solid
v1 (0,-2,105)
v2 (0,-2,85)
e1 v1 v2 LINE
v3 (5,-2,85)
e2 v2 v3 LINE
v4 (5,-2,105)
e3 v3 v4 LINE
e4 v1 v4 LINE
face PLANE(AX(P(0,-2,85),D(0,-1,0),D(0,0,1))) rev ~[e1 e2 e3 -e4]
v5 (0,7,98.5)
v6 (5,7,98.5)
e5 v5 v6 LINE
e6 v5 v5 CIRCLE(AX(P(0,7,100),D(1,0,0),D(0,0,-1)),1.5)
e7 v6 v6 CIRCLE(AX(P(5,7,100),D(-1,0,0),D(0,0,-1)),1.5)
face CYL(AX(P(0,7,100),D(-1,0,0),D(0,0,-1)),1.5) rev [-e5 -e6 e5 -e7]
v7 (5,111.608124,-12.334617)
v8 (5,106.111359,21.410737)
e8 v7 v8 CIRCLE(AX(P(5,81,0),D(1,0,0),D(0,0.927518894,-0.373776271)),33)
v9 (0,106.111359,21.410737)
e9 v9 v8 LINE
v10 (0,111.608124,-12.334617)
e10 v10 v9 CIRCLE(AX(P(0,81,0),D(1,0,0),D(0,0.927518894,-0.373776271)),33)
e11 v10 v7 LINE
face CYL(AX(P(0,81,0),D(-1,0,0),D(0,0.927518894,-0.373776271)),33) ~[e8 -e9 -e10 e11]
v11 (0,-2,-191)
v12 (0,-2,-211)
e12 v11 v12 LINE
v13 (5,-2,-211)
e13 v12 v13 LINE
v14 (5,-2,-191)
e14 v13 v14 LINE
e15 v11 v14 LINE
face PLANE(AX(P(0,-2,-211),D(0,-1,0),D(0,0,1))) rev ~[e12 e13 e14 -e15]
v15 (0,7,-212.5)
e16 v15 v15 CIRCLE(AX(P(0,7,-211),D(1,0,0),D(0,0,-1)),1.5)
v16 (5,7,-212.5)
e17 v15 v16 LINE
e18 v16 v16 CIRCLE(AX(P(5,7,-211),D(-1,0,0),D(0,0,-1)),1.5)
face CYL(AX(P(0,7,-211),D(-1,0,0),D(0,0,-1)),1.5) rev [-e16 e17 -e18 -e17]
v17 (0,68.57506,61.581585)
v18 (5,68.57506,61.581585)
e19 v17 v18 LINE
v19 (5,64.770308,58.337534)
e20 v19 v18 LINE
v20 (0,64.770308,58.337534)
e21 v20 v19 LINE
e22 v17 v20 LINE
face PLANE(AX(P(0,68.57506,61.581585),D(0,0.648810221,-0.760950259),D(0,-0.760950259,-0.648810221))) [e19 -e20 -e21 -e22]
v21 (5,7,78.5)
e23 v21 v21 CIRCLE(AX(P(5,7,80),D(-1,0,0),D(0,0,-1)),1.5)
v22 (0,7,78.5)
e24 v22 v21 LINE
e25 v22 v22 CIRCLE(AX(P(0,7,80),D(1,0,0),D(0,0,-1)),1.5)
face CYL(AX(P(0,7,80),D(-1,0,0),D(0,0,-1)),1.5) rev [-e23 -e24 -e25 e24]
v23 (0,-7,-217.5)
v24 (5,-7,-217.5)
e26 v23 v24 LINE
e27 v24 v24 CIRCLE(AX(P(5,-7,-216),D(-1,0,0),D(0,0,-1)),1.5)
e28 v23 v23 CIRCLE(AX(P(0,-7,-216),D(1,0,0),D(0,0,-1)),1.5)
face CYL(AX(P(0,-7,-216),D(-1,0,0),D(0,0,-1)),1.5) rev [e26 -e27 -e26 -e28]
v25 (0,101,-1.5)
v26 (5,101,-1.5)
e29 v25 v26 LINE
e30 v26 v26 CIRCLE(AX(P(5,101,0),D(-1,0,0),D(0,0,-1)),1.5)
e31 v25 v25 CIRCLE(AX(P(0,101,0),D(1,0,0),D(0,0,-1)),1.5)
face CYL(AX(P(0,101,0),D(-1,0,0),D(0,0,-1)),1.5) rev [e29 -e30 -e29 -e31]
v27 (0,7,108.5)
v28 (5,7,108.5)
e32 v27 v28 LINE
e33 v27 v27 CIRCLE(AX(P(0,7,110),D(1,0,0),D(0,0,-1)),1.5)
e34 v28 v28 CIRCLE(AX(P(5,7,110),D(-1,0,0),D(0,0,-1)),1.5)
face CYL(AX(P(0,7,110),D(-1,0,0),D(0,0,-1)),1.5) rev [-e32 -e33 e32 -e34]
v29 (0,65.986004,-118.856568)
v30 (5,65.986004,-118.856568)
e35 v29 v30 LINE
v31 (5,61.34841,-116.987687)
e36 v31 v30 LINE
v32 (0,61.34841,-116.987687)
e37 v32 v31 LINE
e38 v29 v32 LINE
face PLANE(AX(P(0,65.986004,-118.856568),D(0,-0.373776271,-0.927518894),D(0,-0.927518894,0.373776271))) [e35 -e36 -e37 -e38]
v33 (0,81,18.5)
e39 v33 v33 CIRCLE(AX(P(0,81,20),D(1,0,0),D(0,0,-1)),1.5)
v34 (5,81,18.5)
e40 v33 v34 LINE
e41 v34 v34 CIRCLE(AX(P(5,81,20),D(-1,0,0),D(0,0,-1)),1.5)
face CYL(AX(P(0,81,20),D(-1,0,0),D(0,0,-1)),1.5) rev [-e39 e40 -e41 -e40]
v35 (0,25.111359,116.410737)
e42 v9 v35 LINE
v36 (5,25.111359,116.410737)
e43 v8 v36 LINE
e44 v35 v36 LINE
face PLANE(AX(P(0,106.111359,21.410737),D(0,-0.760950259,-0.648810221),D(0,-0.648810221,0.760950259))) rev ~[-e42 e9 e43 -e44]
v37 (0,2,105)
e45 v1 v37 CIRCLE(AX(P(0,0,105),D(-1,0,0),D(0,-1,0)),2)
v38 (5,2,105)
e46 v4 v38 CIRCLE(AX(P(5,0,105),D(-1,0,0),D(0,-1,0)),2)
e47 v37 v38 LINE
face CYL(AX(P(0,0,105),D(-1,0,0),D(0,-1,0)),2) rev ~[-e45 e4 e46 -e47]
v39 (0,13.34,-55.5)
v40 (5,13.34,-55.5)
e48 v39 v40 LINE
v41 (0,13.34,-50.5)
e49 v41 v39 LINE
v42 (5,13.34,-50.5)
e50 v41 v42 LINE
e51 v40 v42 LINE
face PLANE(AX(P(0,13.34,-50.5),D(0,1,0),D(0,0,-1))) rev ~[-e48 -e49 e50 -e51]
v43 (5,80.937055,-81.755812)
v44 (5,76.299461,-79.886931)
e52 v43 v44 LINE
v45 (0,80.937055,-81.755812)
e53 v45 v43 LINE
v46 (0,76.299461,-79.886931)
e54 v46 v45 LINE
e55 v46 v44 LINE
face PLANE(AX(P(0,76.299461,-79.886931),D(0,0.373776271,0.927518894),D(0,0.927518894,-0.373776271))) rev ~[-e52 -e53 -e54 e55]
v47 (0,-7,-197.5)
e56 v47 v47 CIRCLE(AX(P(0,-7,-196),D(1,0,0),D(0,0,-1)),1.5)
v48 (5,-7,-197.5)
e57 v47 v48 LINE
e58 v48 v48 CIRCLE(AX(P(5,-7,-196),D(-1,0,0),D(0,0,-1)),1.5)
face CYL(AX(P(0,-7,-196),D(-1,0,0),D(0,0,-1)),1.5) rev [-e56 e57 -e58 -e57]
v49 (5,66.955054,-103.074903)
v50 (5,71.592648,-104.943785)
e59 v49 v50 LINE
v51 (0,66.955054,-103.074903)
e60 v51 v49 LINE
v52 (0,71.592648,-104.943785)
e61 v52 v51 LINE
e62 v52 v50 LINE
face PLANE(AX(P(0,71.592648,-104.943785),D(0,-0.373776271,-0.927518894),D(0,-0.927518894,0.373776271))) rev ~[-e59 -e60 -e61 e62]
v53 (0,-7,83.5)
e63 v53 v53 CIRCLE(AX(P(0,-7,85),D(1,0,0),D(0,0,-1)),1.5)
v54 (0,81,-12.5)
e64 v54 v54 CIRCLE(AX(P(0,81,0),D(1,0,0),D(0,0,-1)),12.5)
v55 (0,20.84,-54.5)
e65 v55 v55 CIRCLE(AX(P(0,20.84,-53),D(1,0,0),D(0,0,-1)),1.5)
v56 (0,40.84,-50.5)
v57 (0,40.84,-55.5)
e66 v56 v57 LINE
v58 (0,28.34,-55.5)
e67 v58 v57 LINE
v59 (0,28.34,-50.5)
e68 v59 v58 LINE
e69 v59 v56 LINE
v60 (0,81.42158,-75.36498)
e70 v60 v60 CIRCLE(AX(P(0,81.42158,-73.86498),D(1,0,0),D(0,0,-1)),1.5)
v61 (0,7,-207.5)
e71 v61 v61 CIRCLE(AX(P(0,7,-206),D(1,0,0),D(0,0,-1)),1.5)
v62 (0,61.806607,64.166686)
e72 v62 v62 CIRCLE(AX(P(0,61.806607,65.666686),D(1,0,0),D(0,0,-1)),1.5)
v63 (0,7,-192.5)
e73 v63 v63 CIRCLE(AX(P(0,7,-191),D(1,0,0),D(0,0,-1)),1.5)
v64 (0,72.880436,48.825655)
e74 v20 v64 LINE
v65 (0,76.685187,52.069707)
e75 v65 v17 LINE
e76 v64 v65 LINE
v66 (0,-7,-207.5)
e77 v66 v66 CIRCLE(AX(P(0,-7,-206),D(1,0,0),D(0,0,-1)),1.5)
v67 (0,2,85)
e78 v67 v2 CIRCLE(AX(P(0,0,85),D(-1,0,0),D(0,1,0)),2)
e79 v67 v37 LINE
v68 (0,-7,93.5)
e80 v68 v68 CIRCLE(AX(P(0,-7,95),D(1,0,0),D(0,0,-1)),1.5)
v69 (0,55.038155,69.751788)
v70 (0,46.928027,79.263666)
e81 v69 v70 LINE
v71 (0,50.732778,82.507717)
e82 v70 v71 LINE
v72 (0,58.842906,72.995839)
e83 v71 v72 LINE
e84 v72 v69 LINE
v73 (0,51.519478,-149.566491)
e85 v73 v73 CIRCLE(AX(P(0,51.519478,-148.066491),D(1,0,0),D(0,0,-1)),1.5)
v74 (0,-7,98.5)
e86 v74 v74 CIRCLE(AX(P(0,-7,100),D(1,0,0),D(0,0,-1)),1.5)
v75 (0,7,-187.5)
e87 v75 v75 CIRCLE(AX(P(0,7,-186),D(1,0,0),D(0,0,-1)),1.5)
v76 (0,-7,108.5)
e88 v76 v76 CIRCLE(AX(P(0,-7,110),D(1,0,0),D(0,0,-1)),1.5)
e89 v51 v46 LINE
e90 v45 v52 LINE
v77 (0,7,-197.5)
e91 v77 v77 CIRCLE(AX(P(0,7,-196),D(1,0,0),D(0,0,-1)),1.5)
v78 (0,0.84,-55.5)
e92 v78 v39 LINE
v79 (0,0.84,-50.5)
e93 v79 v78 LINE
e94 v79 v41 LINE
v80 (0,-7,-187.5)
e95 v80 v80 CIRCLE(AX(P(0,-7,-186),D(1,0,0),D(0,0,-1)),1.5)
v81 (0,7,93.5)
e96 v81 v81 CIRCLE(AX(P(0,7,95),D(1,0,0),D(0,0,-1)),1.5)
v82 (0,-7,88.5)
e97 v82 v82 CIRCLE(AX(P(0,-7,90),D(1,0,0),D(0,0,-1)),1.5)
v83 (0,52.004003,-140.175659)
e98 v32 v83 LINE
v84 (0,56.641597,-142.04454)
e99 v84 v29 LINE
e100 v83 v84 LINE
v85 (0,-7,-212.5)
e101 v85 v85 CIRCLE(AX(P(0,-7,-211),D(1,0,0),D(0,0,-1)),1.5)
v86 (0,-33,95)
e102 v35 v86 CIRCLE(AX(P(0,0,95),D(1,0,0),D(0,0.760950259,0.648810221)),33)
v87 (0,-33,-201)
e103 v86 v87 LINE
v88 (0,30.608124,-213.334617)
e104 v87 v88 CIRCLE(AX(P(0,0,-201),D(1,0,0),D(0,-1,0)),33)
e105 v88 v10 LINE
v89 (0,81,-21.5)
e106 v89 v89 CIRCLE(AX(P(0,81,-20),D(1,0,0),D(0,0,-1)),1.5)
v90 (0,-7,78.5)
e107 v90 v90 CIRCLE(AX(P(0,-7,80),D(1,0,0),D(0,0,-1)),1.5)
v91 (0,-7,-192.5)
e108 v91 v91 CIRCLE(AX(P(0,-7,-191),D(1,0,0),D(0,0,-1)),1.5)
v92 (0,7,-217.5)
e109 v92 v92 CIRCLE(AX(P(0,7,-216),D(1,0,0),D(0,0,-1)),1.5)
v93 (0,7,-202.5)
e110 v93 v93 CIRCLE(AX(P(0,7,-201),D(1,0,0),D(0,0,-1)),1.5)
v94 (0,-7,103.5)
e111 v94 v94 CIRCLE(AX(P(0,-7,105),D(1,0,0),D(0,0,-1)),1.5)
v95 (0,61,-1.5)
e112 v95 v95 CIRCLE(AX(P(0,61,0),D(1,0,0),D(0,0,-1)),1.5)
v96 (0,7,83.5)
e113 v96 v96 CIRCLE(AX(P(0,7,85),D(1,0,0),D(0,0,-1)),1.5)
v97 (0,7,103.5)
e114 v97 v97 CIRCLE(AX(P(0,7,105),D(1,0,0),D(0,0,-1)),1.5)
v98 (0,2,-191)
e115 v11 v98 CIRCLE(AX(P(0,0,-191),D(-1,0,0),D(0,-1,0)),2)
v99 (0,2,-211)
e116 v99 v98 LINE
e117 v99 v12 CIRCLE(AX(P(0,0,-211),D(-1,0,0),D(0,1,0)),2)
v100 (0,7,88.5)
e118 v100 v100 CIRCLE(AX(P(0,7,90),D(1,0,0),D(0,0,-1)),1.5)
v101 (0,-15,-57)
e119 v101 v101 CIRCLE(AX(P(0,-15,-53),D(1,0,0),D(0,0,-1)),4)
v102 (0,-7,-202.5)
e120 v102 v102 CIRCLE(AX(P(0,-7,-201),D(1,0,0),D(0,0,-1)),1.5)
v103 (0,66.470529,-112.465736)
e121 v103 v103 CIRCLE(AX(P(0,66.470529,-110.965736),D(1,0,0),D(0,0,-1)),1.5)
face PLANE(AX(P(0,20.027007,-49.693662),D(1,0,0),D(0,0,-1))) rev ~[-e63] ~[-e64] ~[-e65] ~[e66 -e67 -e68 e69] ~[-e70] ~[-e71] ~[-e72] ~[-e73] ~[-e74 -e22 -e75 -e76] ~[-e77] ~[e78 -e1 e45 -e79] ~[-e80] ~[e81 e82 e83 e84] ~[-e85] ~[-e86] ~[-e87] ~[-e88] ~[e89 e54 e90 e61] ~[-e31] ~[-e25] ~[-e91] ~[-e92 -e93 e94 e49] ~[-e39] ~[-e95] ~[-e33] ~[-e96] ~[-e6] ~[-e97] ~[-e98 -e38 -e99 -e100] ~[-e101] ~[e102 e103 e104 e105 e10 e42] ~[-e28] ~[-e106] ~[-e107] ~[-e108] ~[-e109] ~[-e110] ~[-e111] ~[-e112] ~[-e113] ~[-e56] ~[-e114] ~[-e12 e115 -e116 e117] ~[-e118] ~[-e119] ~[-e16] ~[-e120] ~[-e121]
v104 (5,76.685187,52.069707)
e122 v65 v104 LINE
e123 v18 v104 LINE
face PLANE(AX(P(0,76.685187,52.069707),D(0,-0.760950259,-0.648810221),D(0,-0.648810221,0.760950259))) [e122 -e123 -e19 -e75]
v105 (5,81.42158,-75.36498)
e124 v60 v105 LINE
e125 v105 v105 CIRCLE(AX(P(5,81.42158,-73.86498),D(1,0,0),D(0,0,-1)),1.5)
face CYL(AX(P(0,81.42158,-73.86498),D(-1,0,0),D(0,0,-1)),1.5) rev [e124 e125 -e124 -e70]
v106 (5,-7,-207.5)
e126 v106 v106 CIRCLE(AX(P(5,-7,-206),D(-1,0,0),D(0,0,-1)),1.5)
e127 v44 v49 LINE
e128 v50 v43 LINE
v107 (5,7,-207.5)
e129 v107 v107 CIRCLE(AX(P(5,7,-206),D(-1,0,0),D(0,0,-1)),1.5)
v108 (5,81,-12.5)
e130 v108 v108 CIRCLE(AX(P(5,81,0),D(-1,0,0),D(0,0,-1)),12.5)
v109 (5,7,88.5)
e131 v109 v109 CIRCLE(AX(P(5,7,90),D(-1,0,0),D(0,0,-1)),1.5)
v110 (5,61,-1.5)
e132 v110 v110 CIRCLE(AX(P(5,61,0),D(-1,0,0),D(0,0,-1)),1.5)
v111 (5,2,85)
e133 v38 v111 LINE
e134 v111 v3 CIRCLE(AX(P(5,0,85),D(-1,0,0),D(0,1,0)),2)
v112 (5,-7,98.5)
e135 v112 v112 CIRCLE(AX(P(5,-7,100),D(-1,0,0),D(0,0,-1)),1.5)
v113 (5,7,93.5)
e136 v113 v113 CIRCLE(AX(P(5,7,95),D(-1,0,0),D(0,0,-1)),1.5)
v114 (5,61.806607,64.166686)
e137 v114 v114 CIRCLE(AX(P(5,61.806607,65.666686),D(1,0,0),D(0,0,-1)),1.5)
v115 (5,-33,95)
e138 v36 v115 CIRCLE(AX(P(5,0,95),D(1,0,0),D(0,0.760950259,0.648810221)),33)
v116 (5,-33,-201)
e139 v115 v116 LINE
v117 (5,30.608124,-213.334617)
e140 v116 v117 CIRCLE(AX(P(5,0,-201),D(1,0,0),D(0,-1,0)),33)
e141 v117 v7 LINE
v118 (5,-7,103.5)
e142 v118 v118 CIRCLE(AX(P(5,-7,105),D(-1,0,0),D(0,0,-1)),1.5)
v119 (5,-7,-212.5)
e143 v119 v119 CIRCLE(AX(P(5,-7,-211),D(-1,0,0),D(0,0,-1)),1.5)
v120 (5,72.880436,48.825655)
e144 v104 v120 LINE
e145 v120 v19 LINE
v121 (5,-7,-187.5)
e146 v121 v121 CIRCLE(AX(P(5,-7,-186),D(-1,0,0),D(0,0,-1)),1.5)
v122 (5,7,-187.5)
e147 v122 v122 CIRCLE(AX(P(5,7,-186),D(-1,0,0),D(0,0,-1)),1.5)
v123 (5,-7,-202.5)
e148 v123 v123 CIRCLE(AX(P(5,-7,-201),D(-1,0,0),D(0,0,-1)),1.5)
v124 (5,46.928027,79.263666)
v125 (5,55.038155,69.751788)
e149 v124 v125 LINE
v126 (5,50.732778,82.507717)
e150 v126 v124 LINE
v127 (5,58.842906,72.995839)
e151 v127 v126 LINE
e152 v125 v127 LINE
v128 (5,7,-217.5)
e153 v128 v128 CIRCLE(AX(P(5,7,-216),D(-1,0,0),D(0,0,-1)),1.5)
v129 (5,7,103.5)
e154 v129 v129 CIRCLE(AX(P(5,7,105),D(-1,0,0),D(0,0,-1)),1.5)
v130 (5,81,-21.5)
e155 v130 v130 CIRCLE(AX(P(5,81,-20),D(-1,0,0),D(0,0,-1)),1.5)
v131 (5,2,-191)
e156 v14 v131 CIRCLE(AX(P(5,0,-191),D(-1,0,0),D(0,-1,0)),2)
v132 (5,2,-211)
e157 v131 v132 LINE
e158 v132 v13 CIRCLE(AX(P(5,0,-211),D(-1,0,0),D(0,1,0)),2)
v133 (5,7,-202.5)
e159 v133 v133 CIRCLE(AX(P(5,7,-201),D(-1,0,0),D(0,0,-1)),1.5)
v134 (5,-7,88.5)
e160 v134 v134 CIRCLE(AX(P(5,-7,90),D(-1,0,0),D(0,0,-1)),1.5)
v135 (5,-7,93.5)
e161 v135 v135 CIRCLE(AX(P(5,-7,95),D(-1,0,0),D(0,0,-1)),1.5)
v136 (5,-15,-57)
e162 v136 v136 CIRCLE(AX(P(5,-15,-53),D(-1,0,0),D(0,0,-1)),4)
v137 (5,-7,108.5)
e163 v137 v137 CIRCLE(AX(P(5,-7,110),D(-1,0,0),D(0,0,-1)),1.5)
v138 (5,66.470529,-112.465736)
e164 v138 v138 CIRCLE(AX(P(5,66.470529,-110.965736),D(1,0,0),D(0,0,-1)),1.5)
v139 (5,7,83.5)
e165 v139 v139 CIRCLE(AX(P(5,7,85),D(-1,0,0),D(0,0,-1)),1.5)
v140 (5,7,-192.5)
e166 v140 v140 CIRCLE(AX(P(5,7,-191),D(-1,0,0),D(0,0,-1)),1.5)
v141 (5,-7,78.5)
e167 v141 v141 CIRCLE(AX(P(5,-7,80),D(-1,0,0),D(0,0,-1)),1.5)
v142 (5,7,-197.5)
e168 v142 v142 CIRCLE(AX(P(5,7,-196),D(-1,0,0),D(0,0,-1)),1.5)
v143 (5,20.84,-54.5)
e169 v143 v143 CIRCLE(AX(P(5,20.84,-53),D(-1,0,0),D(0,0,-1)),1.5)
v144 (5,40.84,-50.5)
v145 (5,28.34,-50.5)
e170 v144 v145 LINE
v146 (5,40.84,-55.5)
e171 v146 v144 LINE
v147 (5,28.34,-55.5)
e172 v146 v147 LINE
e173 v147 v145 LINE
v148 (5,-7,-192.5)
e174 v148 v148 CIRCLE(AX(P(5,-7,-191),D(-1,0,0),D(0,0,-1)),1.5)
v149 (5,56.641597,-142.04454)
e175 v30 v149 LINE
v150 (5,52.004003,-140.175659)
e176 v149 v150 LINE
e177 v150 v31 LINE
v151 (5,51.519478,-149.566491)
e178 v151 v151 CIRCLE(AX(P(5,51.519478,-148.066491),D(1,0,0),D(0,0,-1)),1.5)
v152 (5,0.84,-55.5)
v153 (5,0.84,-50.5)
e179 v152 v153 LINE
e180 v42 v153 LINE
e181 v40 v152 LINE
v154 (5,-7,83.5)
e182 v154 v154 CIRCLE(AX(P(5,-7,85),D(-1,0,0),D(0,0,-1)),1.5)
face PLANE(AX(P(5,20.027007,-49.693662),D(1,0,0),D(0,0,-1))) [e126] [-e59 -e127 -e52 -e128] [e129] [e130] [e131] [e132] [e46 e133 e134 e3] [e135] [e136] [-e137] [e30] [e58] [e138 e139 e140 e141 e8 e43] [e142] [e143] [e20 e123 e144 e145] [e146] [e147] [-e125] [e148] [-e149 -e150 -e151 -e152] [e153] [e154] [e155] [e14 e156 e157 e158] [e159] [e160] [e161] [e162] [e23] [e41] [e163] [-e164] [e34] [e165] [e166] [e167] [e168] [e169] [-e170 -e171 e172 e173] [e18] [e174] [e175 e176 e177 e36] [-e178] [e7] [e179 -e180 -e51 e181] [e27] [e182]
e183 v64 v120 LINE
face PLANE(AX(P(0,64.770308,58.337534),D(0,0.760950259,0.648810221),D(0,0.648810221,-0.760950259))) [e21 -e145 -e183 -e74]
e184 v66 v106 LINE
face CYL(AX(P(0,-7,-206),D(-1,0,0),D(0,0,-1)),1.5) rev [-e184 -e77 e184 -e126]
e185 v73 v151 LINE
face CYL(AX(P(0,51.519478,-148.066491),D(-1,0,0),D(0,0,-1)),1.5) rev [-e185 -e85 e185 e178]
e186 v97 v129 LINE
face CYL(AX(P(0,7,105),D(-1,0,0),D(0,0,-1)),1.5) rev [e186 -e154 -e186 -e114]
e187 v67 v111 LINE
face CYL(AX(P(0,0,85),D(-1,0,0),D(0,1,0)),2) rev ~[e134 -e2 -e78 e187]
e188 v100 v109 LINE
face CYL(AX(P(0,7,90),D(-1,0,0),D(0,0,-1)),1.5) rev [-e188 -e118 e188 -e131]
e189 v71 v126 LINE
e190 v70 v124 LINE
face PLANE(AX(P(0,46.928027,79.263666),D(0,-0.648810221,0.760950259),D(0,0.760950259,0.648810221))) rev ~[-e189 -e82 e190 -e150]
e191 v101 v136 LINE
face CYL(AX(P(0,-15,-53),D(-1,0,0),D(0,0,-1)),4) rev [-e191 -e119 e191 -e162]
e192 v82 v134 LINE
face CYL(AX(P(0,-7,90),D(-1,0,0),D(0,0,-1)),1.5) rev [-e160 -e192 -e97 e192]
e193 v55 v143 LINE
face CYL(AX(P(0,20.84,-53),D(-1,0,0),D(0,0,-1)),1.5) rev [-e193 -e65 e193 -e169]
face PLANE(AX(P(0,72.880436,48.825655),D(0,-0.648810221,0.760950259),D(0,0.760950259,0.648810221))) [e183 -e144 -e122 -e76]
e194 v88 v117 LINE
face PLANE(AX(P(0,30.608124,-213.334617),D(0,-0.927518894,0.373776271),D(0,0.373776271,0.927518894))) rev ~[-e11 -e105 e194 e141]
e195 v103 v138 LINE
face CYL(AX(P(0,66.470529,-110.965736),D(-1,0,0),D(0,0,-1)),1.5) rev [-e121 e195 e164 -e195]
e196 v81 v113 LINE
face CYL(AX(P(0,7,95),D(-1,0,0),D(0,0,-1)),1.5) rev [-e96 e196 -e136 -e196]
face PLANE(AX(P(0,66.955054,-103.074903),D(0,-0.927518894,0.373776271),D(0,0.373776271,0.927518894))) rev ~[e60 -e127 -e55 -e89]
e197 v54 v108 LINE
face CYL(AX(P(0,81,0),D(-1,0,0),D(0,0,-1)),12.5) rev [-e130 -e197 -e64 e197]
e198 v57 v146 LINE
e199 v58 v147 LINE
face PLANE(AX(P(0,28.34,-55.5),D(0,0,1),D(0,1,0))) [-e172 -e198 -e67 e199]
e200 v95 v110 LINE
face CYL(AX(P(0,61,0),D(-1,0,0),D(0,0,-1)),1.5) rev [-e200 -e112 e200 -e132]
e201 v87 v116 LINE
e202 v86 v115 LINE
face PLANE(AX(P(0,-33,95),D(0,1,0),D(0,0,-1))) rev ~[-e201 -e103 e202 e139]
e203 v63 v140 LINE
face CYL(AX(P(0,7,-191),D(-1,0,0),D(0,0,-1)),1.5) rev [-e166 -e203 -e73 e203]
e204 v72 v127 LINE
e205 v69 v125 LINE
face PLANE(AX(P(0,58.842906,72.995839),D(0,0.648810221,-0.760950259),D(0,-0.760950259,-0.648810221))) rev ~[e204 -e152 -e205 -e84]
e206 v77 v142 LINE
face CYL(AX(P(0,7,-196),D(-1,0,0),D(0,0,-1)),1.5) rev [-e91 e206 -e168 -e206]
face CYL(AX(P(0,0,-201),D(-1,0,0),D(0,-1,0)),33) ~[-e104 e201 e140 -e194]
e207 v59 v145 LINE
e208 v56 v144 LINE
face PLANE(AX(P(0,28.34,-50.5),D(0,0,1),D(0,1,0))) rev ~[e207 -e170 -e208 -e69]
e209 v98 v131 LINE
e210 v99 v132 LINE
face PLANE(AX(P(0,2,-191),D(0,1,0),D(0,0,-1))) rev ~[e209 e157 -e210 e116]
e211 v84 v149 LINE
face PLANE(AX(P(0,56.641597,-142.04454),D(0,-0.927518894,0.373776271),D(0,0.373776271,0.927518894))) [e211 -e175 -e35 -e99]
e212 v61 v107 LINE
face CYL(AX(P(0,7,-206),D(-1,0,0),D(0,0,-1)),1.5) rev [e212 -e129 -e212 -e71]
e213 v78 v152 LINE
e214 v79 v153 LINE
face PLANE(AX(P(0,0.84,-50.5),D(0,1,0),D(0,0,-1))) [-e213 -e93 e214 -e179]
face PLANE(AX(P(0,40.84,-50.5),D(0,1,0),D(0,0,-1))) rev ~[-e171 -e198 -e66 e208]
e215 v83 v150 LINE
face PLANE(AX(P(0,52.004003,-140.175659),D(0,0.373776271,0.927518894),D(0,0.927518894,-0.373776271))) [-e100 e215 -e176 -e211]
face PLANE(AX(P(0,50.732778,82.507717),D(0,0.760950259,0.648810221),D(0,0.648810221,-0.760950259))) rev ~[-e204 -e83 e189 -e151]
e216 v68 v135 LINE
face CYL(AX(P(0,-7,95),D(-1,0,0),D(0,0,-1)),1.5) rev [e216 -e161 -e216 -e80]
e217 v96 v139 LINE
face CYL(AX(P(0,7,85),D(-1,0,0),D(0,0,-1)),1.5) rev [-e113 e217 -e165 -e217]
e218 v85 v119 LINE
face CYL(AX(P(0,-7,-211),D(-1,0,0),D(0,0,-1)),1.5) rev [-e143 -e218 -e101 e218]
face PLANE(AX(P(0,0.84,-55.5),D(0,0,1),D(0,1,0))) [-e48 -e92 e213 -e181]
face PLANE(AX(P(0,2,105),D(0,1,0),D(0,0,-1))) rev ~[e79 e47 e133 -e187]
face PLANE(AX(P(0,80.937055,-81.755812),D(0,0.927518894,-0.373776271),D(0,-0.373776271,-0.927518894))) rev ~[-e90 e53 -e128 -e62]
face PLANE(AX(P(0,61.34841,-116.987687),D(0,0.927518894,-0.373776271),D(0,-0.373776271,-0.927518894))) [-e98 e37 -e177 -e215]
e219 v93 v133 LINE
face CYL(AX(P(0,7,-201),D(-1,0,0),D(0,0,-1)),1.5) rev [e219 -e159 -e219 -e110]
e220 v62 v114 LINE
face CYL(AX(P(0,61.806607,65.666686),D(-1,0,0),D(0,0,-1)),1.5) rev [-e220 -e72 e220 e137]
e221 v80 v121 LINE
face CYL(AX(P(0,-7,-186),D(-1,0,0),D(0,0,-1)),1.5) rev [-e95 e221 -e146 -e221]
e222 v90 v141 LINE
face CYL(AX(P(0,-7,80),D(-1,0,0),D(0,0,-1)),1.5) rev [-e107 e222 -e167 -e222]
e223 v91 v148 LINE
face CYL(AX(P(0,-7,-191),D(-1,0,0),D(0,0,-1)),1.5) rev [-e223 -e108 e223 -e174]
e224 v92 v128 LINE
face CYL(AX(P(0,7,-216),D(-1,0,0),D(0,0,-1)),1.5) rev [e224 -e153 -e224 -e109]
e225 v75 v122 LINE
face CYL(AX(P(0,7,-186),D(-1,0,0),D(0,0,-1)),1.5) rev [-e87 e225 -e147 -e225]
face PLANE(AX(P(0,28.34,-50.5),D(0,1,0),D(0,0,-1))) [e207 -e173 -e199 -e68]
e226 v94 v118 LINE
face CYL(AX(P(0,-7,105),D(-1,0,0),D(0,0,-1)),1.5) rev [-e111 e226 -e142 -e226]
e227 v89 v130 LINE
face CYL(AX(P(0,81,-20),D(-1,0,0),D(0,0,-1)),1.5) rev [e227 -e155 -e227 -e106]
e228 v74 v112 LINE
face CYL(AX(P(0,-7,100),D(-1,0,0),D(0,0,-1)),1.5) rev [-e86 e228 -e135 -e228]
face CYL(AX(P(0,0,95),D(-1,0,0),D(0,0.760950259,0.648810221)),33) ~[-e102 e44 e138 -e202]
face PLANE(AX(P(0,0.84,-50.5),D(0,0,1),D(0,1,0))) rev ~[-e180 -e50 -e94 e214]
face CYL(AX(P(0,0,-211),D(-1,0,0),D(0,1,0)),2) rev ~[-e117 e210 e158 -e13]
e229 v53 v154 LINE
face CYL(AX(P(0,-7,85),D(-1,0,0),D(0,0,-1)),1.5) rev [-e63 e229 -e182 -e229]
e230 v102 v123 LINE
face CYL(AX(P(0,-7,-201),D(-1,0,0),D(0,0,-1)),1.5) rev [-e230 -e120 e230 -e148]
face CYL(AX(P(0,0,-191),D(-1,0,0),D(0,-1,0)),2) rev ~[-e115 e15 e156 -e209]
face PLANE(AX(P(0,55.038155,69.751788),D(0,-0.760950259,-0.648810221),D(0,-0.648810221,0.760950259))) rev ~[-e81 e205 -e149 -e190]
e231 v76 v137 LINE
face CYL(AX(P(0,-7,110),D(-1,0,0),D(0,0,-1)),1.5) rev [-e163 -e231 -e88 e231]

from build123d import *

# Parameters (mm, degrees)
SCHIZZO3_R                   = 1.5
ESTRUSIONE_ESTRUSIONE1_DEPTH = 5
SCHIZZO2_R                   = 2
SCHIZZO2_R_2                 = 12.5
SCHIZZO2_R_3                 = 1.5
TAGLIO_ESTRUSIONE1_DEPTH     = 6
TAGLIO_ESTRUSIONE2_DEPTH     = 6
SCHIZZO6_R                   = 1.5
SCHIZZO6_R_2                 = 4
SCHIZZO6_W                   = 5
SCHIZZO6_H                   = 12.5
TAGLIO_ESTRUSIONE4_DEPTH     = 6


with BuildPart() as part:
    # Schizzo3 → Estrusione-Estrusione1 (new body)
    with BuildSketch(Plane(origin=(0, 0, 0), x_dir=(0, 0, -1), z_dir=(1, 0, 0))):
        with BuildLine():
            Line((-95, -33), (201, -33))
            ThreePointArc((201, -33), (233.396512744, -6.282194046), (213.334616938, 30.608123513))
            Line((213.334616938, 30.608123513), (12.334616938, 111.608123513))
            ThreePointArc((12.334616938, 111.608123513), (-5.305430843, 113.570729245), (-21.410737295, 106.111358555))
            Line((-21.410737295, 106.111358555), (-116.410737295, 25.111358555))
            ThreePointArc((-116.410737295, 25.111358555), (-125.96509997, -11.408881796), (-95, -33))
        make_face()
        with Locations((-65.666686189, 61.806607259)):
            Circle(SCHIZZO3_R, mode=Mode.SUBTRACT)
        with Locations((110.965735584, 66.470529041)):
            Circle(SCHIZZO3_R, mode=Mode.SUBTRACT)
        with Locations((73.86497981, 81.421579875)):
            Circle(SCHIZZO3_R, mode=Mode.SUBTRACT)
        with Locations((148.066491357, 51.519478207)):
            Circle(SCHIZZO3_R, mode=Mode.SUBTRACT)
    extrude(amount=ESTRUSIONE_ESTRUSIONE1_DEPTH)

    # Schizzo2 → Taglio-Estrusione1 (cut, through all)
    with BuildSketch(Plane(origin=(0, 0, 0), x_dir=(0, 0, -1), z_dir=(1, 0, 0))):
        with Locations((-95, 0)):
            Circle(SCHIZZO2_R)
        with Locations((201, 0)):
            Circle(SCHIZZO2_R)
        with Locations((0, 81)):
            Circle(SCHIZZO2_R_2)
        with Locations((0, 101)):
            Circle(SCHIZZO2_R_3)
        with Locations((20, 81)):
            Circle(SCHIZZO2_R_3)
        with Locations((-20, 81)):
            Circle(SCHIZZO2_R_3)
        with Locations((0, 61)):
            Circle(SCHIZZO2_R_3)
    extrude(amount=TAGLIO_ESTRUSIONE1_DEPTH, mode=Mode.SUBTRACT)

    # Schizzo4 → Taglio-Estrusione2 (cut, through all)
    with BuildSketch(Plane(origin=(0, 0, 0), x_dir=(0, 0, -1), z_dir=(1, 0, 0))):
        Polygon((104.943784553, 71.592648309), (103.074903199, 66.955053837), (79.886930841, 76.299460608), (81.755812195, 80.93705508), align=None)
        Polygon((118.856567968, 65.986004246), (116.987686614, 61.348409774), (140.175658973, 52.004003003), (142.044540327, 56.641597475), align=None)
        Polygon((-82.507716927, 50.732778486), (-72.995838686, 58.842906249), (-69.751787581, 55.038154953), (-79.263665822, 46.92802719), align=None)
        Polygon((-61.581584798, 68.575059565), (-58.337533692, 64.770308269), (-48.825655452, 72.880436032), (-52.069706557, 76.685187328), align=None)
    extrude(amount=TAGLIO_ESTRUSIONE2_DEPTH, mode=Mode.SUBTRACT)

    # Schizzo6 → Taglio-Estrusione4 (cut, through all)
    with BuildSketch(Plane(origin=(0, 0, 0), x_dir=(0, 0, -1), z_dir=(1, 0, 0))):
        with Locations((-95, 7)):
            Circle(SCHIZZO6_R)
        with Locations((-90, 7)):
            Circle(SCHIZZO6_R)
        with Locations((-85, 7)):
            Circle(SCHIZZO6_R)
        with Locations((-80, 7)):
            Circle(SCHIZZO6_R)
        with Locations((53, -15)):
            Circle(SCHIZZO6_R_2)
        with Locations((53, 20.84)):
            Circle(SCHIZZO6_R)
        with Locations((-100, 7)):
            Circle(SCHIZZO6_R)
        with Locations((-105, 7)):
            Circle(SCHIZZO6_R)
        with Locations((-110, 7)):
            Circle(SCHIZZO6_R)
        with Locations((-80, -7)):
            Circle(SCHIZZO6_R)
        with Locations((-85, -7)):
            Circle(SCHIZZO6_R)
        with Locations((-90, -7)):
            Circle(SCHIZZO6_R)
        with Locations((-95, -7)):
            Circle(SCHIZZO6_R)
        with Locations((-100, -7)):
            Circle(SCHIZZO6_R)
        with Locations((-105, -7)):
            Circle(SCHIZZO6_R)
        with Locations((-110, -7)):
            Circle(SCHIZZO6_R)
        with Locations((216, -7)):
            Circle(SCHIZZO6_R)
        with Locations((211, -7)):
            Circle(SCHIZZO6_R)
        with Locations((206, -7)):
            Circle(SCHIZZO6_R)
        with Locations((201, -7)):
            Circle(SCHIZZO6_R)
        with Locations((196, -7)):
            Circle(SCHIZZO6_R)
        with Locations((191, -7)):
            Circle(SCHIZZO6_R)
        with Locations((186, -7)):
            Circle(SCHIZZO6_R)
        with Locations((186, 7)):
            Circle(SCHIZZO6_R)
        with Locations((191, 7)):
            Circle(SCHIZZO6_R)
        with Locations((196, 7)):
            Circle(SCHIZZO6_R)
        with Locations((201, 7)):
            Circle(SCHIZZO6_R)
        with Locations((206, 7)):
            Circle(SCHIZZO6_R)
        with Locations((211, 7)):
            Circle(SCHIZZO6_R)
        with Locations((216, 7)):
            Circle(SCHIZZO6_R)
        with BuildLine():
            Line((-105, 2), (-85, 2))
            ThreePointArc((-85, 2), (-83, 0), (-85, -2))
            Line((-85, -2), (-105, -2))
            ThreePointArc((-105, -2), (-107, 0), (-105, 2))
        make_face()
        with BuildLine():
            Line((191, 2), (211, 2))
            ThreePointArc((211, 2), (213, 0), (211, -2))
            Line((211, -2), (191, -2))
            ThreePointArc((191, -2), (189, 0), (191, 2))
        make_face()
        with Locations((53, 34.59)):
            Rectangle(SCHIZZO6_W, SCHIZZO6_H)
        with Locations((53, 7.09)):
            Rectangle(SCHIZZO6_W, SCHIZZO6_H)
    extrude(amount=TAGLIO_ESTRUSIONE4_DEPTH, mode=Mode.SUBTRACT)


solid = part.part
